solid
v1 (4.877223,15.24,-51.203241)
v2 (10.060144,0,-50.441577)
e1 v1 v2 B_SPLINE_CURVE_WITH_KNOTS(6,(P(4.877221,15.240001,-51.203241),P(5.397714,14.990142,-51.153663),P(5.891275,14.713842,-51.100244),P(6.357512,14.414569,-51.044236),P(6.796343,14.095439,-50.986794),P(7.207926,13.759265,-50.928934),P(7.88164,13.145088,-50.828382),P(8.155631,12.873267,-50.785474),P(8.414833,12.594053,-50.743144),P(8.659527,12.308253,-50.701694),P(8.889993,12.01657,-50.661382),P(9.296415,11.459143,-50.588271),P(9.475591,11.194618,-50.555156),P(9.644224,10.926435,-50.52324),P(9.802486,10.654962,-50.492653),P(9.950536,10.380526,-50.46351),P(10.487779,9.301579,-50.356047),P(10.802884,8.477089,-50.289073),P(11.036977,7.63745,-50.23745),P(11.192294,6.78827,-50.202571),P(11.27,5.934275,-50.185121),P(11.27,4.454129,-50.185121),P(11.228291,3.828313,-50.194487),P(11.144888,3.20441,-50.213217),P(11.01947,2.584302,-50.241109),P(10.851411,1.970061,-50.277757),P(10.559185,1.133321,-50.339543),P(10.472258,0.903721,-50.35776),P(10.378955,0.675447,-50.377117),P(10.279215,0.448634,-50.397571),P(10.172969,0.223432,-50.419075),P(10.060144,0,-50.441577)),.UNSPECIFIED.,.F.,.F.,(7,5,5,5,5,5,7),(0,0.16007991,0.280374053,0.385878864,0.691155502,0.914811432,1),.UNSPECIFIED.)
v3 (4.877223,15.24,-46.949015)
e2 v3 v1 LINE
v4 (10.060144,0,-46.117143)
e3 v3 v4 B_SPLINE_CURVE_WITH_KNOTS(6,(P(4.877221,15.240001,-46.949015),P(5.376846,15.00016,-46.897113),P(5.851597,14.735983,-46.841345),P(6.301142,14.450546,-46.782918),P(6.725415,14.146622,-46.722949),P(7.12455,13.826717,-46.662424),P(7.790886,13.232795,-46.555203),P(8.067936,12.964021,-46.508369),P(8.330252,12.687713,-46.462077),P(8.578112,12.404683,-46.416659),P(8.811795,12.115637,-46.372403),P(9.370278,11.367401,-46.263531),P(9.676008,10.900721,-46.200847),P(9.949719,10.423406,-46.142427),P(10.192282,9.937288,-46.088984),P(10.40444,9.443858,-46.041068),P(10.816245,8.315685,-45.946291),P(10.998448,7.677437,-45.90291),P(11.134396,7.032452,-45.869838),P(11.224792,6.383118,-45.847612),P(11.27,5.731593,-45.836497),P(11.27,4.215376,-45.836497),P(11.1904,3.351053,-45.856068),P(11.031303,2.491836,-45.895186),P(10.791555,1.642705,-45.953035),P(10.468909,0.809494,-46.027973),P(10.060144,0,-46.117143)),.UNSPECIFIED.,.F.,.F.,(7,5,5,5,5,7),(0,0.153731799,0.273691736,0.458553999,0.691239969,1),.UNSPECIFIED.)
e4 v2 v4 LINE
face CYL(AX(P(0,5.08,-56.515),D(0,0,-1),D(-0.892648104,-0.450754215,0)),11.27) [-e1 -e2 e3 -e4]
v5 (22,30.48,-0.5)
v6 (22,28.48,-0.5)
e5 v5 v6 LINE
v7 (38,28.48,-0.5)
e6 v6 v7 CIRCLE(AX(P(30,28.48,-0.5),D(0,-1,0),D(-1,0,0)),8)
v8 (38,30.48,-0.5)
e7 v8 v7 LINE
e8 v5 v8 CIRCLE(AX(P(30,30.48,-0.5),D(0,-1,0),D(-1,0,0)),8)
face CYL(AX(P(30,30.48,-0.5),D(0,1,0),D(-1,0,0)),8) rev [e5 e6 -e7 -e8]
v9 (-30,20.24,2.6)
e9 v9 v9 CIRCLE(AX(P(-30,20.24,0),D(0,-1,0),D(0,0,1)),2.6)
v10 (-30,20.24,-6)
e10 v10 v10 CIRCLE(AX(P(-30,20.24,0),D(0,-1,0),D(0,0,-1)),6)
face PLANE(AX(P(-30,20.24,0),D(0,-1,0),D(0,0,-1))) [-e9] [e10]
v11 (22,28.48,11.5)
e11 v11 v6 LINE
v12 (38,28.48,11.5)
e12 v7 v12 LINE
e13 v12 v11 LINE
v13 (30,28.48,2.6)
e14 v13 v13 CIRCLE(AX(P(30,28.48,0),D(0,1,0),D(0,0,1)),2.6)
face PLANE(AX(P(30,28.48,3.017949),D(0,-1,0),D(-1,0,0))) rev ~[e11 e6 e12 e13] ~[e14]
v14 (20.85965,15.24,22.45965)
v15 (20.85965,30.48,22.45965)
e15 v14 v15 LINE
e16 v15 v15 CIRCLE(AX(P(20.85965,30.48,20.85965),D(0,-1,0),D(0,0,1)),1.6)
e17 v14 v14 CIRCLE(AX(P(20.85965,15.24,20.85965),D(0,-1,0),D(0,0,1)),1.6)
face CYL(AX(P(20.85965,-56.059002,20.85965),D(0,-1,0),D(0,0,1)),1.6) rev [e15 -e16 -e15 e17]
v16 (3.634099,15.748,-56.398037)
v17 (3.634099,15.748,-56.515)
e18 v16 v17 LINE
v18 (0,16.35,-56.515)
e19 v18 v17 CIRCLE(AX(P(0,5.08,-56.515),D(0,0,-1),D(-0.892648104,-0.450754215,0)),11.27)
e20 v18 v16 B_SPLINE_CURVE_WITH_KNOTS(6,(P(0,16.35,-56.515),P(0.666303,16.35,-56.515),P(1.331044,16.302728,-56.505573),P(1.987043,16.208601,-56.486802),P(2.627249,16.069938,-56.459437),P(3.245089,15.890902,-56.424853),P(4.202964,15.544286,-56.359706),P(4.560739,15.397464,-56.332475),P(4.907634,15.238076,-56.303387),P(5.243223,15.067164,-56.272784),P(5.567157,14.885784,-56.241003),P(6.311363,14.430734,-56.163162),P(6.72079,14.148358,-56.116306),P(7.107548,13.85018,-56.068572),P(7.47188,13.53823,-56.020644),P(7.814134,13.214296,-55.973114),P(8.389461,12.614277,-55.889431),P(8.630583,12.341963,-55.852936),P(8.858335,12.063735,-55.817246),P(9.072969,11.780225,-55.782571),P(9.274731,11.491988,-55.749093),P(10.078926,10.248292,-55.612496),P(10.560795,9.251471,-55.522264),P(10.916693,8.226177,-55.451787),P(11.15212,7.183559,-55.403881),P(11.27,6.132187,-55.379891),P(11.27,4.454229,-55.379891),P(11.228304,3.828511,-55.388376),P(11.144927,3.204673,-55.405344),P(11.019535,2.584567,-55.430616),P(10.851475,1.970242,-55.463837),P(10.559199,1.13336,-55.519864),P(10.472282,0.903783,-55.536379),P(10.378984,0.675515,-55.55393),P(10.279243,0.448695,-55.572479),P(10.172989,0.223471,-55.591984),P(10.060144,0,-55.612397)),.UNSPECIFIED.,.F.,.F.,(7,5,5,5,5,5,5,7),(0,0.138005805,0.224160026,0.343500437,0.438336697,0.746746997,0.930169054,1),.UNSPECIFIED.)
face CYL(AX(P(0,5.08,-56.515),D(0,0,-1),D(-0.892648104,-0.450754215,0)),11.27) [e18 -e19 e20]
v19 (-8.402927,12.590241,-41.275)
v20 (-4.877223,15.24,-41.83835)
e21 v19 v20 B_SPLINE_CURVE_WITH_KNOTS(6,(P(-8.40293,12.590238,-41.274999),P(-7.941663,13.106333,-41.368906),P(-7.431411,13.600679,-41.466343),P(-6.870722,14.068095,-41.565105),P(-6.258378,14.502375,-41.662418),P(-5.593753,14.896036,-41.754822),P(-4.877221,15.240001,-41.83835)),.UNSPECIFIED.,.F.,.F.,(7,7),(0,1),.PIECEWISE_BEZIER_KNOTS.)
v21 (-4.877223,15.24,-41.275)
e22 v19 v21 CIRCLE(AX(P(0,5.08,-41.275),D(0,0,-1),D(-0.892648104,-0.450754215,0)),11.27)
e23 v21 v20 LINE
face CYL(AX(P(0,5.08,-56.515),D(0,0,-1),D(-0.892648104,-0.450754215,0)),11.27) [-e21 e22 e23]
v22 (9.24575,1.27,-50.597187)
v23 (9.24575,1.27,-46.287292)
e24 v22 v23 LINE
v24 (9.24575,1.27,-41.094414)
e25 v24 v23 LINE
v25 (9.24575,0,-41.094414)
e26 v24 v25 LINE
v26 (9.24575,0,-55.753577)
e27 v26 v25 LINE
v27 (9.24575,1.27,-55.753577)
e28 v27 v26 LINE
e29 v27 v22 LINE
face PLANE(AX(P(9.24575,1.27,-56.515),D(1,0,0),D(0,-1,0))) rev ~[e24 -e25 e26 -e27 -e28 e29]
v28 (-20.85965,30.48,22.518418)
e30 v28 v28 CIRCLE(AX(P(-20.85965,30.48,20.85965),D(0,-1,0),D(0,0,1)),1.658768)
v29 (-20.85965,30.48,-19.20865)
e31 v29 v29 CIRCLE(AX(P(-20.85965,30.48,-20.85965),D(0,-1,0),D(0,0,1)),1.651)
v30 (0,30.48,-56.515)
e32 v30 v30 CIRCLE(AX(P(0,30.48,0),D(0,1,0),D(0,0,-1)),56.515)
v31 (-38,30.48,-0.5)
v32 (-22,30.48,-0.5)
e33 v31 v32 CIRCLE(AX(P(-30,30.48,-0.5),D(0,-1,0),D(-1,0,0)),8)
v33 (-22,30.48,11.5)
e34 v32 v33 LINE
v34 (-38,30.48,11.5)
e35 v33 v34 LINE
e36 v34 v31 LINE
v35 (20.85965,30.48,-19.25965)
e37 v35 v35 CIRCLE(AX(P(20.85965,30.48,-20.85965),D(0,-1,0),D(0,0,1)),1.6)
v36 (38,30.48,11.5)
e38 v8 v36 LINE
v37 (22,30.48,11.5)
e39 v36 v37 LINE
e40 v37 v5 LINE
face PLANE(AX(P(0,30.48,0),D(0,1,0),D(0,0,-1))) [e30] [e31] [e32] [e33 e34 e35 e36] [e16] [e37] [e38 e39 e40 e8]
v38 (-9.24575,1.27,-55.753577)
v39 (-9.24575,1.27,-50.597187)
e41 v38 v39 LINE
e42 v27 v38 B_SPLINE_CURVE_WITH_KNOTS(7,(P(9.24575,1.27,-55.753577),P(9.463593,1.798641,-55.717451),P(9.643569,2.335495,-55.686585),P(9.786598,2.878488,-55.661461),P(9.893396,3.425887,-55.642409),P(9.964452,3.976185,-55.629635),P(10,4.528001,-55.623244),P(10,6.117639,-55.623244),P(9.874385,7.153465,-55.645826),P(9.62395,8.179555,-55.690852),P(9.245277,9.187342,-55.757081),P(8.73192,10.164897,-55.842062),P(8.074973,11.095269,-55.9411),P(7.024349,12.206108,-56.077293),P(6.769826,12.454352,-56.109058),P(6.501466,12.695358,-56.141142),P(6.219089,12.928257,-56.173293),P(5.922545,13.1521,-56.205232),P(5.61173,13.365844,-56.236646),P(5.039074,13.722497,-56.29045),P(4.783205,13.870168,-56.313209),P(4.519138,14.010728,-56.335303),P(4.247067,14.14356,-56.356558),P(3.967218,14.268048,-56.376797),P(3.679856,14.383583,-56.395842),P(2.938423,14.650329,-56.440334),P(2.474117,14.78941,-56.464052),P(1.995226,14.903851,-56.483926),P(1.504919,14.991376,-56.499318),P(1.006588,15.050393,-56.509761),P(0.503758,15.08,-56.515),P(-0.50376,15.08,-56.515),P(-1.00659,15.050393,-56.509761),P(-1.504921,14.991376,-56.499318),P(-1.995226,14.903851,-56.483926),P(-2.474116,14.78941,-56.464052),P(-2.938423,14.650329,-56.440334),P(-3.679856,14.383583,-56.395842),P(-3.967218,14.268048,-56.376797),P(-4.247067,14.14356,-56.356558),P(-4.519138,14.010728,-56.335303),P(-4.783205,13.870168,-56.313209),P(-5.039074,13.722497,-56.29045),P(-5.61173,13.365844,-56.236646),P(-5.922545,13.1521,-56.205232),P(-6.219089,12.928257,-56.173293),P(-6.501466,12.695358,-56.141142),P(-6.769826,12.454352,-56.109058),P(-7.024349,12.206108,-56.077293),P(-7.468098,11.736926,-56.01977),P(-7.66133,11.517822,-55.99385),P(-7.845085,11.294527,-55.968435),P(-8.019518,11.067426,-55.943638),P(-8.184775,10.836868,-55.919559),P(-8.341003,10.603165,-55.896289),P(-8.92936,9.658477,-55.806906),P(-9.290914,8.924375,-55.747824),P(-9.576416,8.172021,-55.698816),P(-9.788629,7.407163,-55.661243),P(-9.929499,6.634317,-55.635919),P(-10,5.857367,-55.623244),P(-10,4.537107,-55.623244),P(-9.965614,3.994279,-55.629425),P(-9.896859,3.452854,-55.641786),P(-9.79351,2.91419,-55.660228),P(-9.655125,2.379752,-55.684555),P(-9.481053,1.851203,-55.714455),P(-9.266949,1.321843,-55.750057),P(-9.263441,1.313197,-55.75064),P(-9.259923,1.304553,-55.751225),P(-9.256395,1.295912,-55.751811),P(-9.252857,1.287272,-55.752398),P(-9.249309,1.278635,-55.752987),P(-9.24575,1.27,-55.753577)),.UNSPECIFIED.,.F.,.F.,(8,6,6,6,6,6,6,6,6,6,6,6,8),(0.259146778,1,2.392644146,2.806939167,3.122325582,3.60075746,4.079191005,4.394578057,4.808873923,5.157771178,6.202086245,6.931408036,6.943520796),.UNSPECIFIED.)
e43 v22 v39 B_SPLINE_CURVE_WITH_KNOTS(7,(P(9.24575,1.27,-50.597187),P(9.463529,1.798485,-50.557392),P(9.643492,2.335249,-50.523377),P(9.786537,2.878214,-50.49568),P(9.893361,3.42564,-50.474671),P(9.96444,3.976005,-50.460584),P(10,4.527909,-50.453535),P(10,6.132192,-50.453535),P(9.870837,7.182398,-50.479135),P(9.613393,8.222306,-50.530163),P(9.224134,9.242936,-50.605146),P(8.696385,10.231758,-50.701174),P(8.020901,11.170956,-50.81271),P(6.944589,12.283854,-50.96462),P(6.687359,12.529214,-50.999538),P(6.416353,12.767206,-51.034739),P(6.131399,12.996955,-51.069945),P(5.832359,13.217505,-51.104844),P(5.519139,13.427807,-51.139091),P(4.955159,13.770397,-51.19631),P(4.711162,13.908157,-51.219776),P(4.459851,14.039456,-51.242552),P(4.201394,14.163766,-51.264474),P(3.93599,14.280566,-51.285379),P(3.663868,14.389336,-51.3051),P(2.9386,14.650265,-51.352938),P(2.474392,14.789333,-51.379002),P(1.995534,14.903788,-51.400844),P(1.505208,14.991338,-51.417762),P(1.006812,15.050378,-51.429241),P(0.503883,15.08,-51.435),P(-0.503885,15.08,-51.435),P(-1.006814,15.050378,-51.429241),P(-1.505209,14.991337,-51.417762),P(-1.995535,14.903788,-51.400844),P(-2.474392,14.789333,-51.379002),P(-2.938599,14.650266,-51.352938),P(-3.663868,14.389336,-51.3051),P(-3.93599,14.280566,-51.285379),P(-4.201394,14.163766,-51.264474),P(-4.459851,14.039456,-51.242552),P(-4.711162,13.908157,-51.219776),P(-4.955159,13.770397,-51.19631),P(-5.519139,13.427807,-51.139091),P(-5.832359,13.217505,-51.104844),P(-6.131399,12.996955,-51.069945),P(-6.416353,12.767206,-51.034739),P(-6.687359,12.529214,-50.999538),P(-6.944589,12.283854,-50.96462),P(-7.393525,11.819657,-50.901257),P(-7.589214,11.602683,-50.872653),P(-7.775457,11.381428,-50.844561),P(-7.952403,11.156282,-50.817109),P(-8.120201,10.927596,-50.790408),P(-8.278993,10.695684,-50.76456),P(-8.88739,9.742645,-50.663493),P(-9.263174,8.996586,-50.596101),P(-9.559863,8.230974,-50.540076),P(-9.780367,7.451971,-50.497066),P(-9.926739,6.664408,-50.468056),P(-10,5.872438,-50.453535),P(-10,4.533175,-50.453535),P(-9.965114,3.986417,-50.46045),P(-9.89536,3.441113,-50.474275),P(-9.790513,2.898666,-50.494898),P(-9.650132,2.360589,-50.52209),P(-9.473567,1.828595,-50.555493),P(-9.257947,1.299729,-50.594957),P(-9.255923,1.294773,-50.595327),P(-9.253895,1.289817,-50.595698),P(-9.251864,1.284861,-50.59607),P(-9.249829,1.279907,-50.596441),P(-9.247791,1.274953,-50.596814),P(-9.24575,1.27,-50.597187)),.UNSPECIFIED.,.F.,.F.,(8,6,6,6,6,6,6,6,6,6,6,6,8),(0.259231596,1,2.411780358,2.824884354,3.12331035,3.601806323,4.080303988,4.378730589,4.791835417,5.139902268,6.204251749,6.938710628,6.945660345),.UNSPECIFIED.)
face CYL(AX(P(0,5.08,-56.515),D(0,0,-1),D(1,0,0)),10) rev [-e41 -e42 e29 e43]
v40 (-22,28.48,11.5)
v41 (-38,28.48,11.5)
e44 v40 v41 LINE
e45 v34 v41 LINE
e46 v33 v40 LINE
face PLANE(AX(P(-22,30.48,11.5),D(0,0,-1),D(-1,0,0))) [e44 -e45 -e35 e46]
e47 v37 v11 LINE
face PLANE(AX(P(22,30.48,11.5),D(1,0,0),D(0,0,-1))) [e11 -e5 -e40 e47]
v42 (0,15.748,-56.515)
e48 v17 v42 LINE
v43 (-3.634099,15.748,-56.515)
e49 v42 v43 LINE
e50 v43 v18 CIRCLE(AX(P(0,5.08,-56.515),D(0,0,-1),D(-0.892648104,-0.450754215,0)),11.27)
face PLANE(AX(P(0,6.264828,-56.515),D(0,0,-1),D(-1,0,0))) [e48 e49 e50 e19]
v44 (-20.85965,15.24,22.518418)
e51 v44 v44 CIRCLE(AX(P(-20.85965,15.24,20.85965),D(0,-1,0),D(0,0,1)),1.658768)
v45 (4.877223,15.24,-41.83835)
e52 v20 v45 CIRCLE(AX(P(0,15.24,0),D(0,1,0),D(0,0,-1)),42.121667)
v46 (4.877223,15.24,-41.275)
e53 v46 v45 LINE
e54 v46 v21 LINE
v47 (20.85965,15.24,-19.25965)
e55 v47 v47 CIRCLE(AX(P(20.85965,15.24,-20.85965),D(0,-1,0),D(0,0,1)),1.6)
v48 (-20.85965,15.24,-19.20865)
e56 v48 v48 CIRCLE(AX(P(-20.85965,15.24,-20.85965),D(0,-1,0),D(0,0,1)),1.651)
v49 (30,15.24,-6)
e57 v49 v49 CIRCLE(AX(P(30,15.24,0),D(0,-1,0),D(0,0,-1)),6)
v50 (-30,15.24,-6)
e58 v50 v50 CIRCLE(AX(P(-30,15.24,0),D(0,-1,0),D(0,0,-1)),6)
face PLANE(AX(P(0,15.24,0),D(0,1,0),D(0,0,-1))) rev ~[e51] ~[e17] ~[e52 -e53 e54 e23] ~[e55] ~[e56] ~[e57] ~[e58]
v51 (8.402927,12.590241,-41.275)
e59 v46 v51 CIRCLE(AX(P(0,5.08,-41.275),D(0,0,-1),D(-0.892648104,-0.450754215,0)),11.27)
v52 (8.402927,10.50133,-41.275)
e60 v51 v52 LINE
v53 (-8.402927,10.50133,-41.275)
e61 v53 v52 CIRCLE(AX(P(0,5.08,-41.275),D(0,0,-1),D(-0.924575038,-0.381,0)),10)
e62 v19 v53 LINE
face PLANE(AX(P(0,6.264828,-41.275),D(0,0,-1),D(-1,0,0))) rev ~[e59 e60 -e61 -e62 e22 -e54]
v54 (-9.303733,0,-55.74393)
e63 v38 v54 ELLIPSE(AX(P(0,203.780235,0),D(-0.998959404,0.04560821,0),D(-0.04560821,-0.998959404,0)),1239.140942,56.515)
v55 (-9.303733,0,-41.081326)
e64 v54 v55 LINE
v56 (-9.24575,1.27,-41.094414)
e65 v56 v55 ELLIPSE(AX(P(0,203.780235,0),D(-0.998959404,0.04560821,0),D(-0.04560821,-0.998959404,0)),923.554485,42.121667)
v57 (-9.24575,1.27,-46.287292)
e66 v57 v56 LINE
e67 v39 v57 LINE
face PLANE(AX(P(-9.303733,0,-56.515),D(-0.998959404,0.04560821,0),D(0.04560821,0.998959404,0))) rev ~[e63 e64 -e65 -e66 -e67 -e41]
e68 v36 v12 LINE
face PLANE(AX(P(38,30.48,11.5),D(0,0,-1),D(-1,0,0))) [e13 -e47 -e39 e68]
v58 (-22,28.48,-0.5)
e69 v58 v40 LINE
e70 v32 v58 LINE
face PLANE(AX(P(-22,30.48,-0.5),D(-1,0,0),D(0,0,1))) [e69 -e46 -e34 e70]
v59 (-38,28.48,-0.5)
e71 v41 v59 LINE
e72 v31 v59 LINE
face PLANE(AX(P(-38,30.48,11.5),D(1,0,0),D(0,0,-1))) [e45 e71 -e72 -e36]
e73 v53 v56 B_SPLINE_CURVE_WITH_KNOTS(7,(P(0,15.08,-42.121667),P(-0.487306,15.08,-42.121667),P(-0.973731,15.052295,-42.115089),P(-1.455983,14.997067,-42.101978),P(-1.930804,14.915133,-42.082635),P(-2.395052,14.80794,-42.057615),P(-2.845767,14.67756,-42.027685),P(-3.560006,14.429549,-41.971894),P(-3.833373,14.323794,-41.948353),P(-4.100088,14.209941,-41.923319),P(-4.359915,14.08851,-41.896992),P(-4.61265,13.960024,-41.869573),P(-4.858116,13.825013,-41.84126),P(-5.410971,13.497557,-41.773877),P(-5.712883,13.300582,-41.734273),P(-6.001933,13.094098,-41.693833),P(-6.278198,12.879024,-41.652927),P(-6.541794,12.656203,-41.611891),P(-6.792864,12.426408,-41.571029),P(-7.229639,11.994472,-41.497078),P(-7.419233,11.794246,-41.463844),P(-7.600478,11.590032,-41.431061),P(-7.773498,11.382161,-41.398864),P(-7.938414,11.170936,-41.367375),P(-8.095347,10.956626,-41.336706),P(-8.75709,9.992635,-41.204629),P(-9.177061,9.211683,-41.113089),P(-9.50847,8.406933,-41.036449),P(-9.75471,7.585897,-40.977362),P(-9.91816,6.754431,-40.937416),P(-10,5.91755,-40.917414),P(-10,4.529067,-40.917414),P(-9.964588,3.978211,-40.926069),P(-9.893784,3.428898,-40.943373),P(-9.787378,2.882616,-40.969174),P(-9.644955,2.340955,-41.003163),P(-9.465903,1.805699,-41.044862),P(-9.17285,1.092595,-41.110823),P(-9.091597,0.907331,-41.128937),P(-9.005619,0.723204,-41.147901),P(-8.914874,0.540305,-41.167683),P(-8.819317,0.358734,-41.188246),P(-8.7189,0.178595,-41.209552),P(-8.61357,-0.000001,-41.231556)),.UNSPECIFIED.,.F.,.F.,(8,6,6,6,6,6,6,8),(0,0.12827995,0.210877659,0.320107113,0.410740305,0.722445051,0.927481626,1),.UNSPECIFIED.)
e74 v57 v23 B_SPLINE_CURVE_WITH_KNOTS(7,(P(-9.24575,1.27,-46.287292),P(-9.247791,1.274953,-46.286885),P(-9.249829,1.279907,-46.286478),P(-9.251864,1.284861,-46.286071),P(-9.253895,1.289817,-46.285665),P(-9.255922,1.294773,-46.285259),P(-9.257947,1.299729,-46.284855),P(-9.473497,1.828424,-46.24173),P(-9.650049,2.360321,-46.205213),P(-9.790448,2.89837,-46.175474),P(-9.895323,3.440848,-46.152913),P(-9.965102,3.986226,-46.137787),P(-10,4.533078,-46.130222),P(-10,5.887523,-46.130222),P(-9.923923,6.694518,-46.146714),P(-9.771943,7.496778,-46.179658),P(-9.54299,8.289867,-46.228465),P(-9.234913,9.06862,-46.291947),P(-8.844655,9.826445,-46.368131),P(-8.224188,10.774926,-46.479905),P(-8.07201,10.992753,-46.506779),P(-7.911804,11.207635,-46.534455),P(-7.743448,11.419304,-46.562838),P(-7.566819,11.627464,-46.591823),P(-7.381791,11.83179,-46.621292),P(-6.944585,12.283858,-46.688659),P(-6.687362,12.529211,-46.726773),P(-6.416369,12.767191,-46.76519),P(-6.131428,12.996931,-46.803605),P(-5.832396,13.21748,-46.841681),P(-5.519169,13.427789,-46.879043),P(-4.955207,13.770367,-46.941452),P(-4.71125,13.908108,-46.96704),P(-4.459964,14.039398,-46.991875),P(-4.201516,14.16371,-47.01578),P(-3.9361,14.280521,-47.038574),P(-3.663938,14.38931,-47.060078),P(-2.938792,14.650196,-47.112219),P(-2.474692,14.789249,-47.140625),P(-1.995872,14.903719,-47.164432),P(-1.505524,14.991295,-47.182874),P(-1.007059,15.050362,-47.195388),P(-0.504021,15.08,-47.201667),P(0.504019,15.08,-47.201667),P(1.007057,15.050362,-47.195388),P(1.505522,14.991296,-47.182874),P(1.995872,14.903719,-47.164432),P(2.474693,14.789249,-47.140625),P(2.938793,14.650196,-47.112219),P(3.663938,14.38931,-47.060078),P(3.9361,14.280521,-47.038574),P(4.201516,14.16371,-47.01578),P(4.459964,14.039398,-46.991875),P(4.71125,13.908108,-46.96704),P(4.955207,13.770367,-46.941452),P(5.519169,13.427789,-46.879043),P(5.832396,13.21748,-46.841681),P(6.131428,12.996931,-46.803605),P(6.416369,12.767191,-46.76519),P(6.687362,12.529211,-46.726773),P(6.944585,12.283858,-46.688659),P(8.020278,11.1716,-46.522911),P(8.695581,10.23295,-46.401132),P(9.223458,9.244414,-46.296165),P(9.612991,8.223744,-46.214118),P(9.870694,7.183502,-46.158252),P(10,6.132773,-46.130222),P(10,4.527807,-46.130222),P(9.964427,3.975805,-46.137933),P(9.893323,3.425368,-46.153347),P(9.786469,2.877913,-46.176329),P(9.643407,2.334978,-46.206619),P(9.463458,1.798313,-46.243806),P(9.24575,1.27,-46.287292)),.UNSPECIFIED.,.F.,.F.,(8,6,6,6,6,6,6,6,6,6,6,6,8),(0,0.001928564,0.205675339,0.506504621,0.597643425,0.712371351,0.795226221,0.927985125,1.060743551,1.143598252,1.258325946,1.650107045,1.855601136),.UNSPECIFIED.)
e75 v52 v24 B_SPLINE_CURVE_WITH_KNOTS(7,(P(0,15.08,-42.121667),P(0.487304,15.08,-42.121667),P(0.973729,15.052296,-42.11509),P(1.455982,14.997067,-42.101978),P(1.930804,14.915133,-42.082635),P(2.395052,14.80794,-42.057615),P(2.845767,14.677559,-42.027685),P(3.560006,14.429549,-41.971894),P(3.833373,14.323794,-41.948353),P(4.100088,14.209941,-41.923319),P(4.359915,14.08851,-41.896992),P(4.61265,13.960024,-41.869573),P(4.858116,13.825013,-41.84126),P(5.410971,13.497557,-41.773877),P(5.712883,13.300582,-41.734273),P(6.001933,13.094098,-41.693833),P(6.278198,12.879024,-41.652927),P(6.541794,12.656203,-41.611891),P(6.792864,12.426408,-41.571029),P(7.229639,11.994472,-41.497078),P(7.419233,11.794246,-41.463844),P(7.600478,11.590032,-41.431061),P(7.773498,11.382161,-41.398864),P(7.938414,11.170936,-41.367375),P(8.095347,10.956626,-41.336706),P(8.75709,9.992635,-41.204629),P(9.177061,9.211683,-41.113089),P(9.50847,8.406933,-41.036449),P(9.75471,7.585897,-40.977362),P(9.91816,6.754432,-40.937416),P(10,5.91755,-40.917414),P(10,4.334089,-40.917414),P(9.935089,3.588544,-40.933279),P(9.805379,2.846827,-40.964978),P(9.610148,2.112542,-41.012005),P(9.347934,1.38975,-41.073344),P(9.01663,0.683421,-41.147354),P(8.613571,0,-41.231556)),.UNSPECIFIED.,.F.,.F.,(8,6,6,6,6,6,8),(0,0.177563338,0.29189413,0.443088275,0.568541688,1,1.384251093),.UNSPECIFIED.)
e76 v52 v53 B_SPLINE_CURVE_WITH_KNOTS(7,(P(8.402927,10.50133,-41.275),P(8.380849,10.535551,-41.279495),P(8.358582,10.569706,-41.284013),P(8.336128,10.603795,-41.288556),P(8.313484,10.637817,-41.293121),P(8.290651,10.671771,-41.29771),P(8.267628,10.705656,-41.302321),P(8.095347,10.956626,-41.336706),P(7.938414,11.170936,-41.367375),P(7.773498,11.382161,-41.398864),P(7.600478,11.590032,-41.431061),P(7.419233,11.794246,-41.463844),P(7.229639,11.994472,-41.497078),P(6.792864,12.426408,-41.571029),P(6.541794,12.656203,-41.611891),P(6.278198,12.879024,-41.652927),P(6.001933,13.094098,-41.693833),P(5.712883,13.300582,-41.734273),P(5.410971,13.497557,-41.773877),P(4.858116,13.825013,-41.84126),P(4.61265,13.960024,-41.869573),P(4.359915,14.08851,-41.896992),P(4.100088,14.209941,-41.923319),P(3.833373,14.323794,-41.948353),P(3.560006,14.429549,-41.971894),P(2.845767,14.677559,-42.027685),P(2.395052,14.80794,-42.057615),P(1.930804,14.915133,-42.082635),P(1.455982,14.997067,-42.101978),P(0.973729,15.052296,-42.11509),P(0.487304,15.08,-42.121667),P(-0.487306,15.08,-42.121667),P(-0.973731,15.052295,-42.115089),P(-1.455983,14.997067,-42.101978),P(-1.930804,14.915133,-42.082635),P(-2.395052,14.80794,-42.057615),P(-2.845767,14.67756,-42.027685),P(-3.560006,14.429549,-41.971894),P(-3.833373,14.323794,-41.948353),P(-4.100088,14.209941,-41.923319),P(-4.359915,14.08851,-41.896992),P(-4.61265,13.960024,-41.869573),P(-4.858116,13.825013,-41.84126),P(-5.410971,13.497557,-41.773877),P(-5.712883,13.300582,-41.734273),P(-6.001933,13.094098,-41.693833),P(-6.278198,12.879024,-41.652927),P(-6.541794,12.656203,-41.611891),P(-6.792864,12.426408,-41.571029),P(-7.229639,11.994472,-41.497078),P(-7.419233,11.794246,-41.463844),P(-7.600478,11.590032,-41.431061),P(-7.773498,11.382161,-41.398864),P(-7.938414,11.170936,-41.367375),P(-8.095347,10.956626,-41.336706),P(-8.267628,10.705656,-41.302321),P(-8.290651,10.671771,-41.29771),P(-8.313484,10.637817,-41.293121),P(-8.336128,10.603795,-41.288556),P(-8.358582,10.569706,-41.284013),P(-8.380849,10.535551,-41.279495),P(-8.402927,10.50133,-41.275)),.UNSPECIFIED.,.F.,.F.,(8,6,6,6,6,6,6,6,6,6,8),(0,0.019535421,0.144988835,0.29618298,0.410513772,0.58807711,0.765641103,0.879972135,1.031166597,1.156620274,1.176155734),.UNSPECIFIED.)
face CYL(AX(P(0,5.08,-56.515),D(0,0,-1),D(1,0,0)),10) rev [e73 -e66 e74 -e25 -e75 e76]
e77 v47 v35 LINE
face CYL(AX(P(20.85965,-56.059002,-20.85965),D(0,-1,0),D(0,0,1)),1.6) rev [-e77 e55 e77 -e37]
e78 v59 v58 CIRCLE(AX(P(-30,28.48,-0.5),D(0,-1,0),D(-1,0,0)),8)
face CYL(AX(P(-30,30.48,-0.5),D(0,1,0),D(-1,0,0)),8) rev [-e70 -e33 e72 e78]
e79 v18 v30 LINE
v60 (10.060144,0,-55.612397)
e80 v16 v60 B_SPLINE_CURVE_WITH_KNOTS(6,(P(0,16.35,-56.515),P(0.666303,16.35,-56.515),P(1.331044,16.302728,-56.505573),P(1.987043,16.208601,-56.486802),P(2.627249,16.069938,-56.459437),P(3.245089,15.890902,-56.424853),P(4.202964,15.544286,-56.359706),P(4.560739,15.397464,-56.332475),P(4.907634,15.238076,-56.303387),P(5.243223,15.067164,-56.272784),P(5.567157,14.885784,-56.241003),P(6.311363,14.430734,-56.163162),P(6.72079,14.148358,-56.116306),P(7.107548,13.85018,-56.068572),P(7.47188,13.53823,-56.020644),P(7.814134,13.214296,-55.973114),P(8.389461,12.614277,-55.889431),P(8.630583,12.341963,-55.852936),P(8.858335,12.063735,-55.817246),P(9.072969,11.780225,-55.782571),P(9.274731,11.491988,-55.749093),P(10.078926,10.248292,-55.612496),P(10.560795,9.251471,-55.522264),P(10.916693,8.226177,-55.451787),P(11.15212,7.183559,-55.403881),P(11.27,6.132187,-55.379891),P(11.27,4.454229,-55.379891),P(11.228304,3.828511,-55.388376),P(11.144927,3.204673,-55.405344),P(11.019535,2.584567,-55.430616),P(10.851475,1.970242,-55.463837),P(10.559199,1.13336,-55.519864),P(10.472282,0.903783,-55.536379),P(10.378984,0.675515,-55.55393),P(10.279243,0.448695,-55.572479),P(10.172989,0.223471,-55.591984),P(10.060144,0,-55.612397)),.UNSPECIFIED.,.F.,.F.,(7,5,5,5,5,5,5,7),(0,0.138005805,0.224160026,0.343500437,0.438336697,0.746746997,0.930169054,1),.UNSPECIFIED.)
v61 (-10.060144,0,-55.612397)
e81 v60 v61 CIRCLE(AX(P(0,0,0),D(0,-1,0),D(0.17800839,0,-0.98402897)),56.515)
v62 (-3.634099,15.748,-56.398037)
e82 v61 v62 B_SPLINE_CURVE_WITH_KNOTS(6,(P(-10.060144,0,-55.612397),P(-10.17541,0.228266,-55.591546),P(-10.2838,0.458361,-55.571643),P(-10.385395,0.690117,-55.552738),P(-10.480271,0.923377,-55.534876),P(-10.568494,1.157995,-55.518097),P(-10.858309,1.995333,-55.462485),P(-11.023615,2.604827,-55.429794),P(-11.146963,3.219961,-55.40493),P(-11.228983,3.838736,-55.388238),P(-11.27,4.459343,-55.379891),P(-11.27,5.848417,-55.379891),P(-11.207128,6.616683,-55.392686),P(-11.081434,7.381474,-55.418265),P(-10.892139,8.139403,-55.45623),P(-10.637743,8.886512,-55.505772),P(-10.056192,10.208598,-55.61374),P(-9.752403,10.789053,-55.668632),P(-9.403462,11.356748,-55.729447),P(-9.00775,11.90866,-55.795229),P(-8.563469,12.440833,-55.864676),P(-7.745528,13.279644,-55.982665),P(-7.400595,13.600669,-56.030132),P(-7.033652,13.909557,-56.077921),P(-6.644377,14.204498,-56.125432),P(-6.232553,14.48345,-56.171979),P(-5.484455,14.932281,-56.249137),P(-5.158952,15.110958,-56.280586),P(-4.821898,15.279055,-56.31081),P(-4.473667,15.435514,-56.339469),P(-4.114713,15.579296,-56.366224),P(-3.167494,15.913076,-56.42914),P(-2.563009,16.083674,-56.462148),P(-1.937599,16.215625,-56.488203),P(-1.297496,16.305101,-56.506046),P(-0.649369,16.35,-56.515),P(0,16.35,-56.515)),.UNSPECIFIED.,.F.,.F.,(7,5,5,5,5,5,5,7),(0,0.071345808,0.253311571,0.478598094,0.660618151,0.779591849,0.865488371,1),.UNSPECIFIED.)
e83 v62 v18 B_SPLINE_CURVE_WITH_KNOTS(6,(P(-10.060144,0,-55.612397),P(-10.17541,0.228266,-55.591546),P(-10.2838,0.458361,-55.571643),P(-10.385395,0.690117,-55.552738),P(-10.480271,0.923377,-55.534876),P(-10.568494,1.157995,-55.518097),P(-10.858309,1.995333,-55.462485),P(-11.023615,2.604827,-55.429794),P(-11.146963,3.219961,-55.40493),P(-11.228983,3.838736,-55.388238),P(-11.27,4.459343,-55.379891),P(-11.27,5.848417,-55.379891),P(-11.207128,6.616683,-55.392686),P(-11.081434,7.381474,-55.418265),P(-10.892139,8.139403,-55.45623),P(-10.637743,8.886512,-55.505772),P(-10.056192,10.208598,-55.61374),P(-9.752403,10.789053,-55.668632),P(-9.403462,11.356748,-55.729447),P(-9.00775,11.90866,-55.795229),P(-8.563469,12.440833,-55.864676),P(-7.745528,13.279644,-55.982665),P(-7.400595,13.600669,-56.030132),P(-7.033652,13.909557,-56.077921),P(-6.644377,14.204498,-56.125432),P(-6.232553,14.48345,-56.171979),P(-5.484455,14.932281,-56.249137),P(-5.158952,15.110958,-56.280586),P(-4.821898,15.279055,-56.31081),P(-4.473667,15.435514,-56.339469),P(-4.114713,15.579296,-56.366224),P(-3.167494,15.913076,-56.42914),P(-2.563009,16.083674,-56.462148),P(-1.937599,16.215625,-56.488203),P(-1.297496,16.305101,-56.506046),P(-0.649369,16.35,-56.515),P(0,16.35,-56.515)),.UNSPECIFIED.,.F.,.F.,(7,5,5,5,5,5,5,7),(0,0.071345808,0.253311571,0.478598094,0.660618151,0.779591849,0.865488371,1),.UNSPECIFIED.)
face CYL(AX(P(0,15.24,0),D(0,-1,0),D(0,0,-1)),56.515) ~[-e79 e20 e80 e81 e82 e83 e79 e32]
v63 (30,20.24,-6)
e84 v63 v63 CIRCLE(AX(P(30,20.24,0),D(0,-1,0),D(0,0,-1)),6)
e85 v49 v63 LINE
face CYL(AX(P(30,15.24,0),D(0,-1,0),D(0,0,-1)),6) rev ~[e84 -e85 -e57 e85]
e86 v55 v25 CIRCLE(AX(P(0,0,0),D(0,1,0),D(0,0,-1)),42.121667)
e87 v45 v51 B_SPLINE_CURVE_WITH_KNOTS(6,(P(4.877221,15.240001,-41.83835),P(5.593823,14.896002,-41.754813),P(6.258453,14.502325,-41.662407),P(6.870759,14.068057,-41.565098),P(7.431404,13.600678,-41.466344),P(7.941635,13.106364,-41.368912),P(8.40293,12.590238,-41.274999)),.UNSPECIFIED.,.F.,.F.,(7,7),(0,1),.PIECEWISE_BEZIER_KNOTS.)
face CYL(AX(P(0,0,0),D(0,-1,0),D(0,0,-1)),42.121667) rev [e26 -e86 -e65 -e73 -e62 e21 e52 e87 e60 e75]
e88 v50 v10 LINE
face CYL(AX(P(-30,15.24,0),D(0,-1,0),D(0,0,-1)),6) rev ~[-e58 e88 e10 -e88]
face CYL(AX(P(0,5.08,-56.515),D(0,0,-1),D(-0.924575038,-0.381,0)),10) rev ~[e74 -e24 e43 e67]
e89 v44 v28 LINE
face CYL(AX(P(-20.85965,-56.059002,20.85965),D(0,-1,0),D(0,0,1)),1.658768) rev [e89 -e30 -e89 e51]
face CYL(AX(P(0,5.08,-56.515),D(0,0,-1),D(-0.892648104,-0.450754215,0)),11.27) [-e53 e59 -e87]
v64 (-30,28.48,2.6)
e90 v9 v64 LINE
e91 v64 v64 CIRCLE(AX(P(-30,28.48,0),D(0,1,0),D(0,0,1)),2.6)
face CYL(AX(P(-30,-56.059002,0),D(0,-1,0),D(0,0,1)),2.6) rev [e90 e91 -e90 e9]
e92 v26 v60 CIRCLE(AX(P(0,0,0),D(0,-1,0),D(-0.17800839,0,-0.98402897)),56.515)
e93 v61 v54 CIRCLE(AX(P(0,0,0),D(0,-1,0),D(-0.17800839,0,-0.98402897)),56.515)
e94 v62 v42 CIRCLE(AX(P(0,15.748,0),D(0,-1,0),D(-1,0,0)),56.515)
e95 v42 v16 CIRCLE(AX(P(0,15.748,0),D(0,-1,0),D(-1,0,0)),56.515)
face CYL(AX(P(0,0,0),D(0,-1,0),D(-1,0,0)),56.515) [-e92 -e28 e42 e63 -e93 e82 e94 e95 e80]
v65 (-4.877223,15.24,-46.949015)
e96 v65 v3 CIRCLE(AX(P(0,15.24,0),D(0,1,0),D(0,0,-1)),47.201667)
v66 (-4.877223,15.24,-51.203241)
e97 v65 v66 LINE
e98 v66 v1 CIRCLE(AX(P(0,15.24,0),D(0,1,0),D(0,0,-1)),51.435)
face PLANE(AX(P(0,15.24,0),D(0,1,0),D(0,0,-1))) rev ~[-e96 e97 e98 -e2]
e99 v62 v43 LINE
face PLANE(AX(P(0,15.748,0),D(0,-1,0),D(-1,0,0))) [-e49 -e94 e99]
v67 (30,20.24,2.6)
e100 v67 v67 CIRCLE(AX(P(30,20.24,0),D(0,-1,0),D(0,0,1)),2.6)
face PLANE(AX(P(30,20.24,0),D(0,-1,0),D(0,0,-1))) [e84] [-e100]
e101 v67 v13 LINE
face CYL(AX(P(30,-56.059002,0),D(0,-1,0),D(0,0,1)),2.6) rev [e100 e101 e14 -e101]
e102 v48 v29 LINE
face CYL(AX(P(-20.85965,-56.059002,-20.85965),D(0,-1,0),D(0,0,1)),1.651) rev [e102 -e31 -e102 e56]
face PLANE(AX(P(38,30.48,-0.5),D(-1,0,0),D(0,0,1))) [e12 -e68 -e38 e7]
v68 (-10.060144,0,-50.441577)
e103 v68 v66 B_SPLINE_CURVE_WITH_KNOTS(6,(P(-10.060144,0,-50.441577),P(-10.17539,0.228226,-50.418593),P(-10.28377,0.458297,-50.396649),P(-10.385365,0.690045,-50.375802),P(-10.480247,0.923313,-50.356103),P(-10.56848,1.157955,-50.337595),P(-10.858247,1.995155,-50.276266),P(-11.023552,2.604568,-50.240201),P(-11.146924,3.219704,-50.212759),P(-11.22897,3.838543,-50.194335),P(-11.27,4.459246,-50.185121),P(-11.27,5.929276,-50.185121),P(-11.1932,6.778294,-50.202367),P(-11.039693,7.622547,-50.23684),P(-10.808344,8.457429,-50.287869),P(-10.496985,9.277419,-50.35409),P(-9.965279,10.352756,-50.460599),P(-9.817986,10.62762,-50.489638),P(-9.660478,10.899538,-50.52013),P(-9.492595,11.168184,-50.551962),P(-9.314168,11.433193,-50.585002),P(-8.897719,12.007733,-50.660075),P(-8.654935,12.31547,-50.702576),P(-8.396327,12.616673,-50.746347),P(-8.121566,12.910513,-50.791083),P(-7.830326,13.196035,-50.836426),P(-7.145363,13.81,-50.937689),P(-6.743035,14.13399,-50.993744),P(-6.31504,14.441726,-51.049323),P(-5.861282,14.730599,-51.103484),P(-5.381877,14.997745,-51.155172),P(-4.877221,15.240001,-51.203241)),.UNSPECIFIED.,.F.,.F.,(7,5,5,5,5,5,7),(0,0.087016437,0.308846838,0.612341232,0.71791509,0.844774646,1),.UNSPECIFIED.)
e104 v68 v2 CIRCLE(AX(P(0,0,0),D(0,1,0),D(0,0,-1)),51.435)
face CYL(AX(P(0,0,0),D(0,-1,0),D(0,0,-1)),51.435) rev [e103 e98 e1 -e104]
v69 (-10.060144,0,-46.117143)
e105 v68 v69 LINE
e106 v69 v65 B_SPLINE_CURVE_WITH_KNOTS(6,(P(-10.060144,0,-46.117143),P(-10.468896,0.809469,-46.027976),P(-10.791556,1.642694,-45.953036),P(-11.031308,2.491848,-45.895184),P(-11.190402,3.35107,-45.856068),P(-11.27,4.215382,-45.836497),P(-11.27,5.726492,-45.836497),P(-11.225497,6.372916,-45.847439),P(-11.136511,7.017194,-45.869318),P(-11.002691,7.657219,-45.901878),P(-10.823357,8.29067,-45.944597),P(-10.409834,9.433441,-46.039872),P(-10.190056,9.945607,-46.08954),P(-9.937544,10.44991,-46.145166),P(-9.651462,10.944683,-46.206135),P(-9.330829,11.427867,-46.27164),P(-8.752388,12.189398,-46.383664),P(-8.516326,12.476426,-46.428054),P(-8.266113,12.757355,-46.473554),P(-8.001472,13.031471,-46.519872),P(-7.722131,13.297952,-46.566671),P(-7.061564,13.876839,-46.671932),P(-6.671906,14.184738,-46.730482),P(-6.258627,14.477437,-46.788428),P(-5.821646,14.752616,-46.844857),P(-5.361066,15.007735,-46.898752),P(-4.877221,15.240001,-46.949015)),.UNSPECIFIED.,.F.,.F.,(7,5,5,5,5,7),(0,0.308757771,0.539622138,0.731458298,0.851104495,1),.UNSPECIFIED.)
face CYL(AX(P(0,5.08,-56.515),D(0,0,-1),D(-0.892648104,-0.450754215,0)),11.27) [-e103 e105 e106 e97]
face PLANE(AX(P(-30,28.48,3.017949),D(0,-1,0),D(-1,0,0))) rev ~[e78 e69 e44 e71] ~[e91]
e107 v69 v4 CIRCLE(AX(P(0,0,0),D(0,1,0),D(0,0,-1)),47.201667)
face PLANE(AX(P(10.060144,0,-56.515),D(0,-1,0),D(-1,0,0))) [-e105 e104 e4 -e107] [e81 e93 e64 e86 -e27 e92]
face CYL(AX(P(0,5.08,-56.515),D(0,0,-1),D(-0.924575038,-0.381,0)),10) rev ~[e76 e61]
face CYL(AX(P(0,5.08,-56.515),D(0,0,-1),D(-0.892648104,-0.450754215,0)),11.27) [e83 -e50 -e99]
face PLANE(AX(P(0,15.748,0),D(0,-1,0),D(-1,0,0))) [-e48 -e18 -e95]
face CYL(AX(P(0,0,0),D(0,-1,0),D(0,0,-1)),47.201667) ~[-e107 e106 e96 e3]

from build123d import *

# Parameters (mm, degrees)
SKETCH2_R                = 56.515
SKETCH2_R_2              = 51.435
BOSS_EXTRUDE1_DEPTH      = 15.24
SKETCH2_R_3              = 47.201666667
SKETCH2_R_4              = 42.121666667
BOSS_EXTRUDE1_2_DEPTH    = 15.24
SKETCH3_R                = 56.515
BOSS_EXTRUDE2_DEPTH      = 15.24
CUT_EXTRUDE1_DEPTH       = 86.539001923
CUT_EXTRUDE1_DEPTH_BACK  = 86.539001923
SKETCH4_R                = 1.6
SKETCH4_R_2              = 1.65876763
SKETCH4_R_3              = 1.651
SKETCH14_R               = 10
CUT_EXTRUDE7_DEPTH       = 19.558
SKETCH16_W               = 1.27
SKETCH16_H               = 1.27
EXTRUDE_THIN1_DEPTH      = 15.24
SKETCH20_R               = 66.675
SKETCH20_R_2             = 56.515
CUT_EXTRUDE_THIN3_DEPTH  = 15.748
CUT_EXTRUDE12_DEPTH      = 15.748
SKETCH32_R               = 2.6
CUT_EXTRUDE18_DEPTH      = 2
CUT_EXTRUDE19_DEPTH      = 86.539002091
CUT_EXTRUDE19_DEPTH_BACK = 86.539002091
SKETCH33_R               = 2.6
SKETCH34_R               = 6
CUT_EXTRUDE20_DEPTH      = 5


with BuildPart() as part:
    # Sketch2 → Boss-Extrude1 (new body)
    with BuildSketch(Plane(origin=(0, 0, 0), x_dir=(1, 0, 0), z_dir=(0, 1, 0))):
        with Locations(Location((0, 0, 0), (0, 0, 90))):
            Circle(SKETCH2_R)
        with Locations(Location((0, 0, 0), (0, 0, 90))):
            Circle(SKETCH2_R_2, mode=Mode.SUBTRACT)
    extrude(amount=BOSS_EXTRUDE1_DEPTH)



with BuildPart() as body_2:
    # Sketch2 → Boss-Extrude1 2 (new body)
    with BuildSketch(Plane(origin=(0, 0, 0), x_dir=(1, 0, 0), z_dir=(0, 1, 0))):
        with Locations(Location((0, 0, 0), (0, 0, 90))):
            Circle(SKETCH2_R_3)
        with Locations(Location((0, 0, 0), (0, 0, 90))):
            Circle(SKETCH2_R_4, mode=Mode.SUBTRACT)
    extrude(amount=BOSS_EXTRUDE1_2_DEPTH)


with BuildPart() as part_1:
    add(part.part)

    add(body_2.part)  # Boss-Extrude2 merges body 2
    # Sketch3 → Boss-Extrude2 (add)
    with BuildSketch(Plane(origin=(0, 15.24, 0), x_dir=(1, 0, 0), z_dir=(0, 1, 0))):
        with Locations(Location((0, 0, 0), (0, 0, 90))):
            Circle(SKETCH3_R)
    extrude(amount=BOSS_EXTRUDE2_DEPTH)

    # Sketch4 → Cut-Extrude1 (cut, two sides: drawn at the far end of the back side and taken through both)
    with BuildSketch(Plane(origin=(0, 30.48, 0), x_dir=(1, 0, 0), z_dir=(0, 1, 0)).offset(-CUT_EXTRUDE1_DEPTH_BACK)):
        with Locations(Location((20.859650045, 20.859650045, 0), (0, 0, 270))):
            Circle(SKETCH4_R)
        with Locations(Location((20.859650045, -20.859650045, 0), (0, 0, 270))):
            Circle(SKETCH4_R)
        with Locations(Location((-20.859650045, -20.859650045, 0), (0, 0, 270))):
            Circle(SKETCH4_R_2)
        with Locations(Location((-20.859650045, 20.859650045, 0), (0, 0, 270))):
            Circle(SKETCH4_R_3)
    extrude(amount=CUT_EXTRUDE1_DEPTH + CUT_EXTRUDE1_DEPTH_BACK, mode=Mode.SUBTRACT)

    # Sketch14 → Cut-Extrude7 (cut)
    with BuildSketch(Plane.XY.offset(-56.515)):
        with Locations((0, 5.08)):
            Circle(SKETCH14_R)
    extrude(amount=CUT_EXTRUDE7_DEPTH, mode=Mode.SUBTRACT)

    # Sketch16 → Extrude-Thin1 (add)
    # profile 1 of 2: a face of its own
    with BuildSketch(Plane.XY.offset(-56.515)):
        with Locations((-0.635, 0.635)):
            Rectangle(SKETCH16_W, SKETCH16_H)
    # profile 2 of 2: a face of its own
    with BuildSketch(Plane.XY.offset(-56.515)):
        with BuildLine():
            Line((10.060144134, 0), (-10.060144134, 0))
            ThreePointArc((-10.060144134, 0), (0, 16.35), (10.060144134, 0))
        make_face()
        with BuildLine():
            Line((9.245750375, 1.27), (-9.245750375, 1.27))
            ThreePointArc((-9.245750375, 1.27), (0, 15.08), (9.245750375, 1.27))
        make_face(mode=Mode.SUBTRACT)
    extrude(amount=EXTRUDE_THIN1_DEPTH)

    # Sketch20 → Cut-Extrude-Thin3 (cut)
    with BuildSketch(Plane(origin=(0, 0, 0), x_dir=(-1, 0, 0), z_dir=(0, -1, 0))):
        Circle(SKETCH20_R)
        Circle(SKETCH20_R_2, mode=Mode.SUBTRACT)
    extrude(amount=-CUT_EXTRUDE_THIN3_DEPTH, mode=Mode.SUBTRACT)

    # Sketch21 → Cut-Extrude12 (cut)
    with BuildSketch(Plane.XY.offset(-56.515)):
        Polygon((-9.303733138, 0), (-9.245750375, 1.27), (9.245750375, 1.27), (9.245750375, 0), align=None)
    extrude(amount=CUT_EXTRUDE12_DEPTH, mode=Mode.SUBTRACT)

    # Sketch32 → Cut-Extrude18 (cut)
    # profile 1 of 2: a face of its own
    with BuildSketch(Plane(origin=(0, 30.48, 0), x_dir=(1, 0, 0), z_dir=(0, 1, 0))):
        with BuildLine():
            Line((-22, 0.5), (-22, -11.5))
            Line((-22, -11.5), (-38, -11.5))
            Line((-38, -11.5), (-38, 0.5))
            ThreePointArc((-38, 0.5), (-30, 8.5), (-22, 0.5))
        make_face()
        with Locations(Location((-30, 0, 0), (0, 0, 270))):
            Circle(SKETCH32_R, mode=Mode.SUBTRACT)
    # profile 2 of 2: a face of its own
    with BuildSketch(Plane(origin=(0, 30.48, 0), x_dir=(1, 0, 0), z_dir=(0, 1, 0))):
        with BuildLine():
            Line((38, 0.5), (38, -11.5))
            Line((38, -11.5), (22, -11.5))
            Line((22, -11.5), (22, 0.5))
            ThreePointArc((22, 0.5), (30, 8.5), (38, 0.5))
        make_face()
        with Locations(Location((30, 0, 0), (0, 0, 90))):
            Circle(SKETCH32_R, mode=Mode.SUBTRACT)
    extrude(amount=-CUT_EXTRUDE18_DEPTH, mode=Mode.SUBTRACT)

    # Sketch33 → Cut-Extrude19 (cut, two sides: drawn at the far end of the back side and taken through both)
    with BuildSketch(Plane(origin=(0, 30.48, 0), x_dir=(1, 0, 0), z_dir=(0, 1, 0)).offset(-CUT_EXTRUDE19_DEPTH_BACK)):
        with Locations(Location((-30, 0, 0), (0, 0, 270))):
            Circle(SKETCH33_R)
        with Locations(Location((30, 0, 0), (0, 0, 270))):
            Circle(SKETCH33_R)
    extrude(amount=CUT_EXTRUDE19_DEPTH + CUT_EXTRUDE19_DEPTH_BACK, mode=Mode.SUBTRACT)

    # Sketch34 → Cut-Extrude20 (cut)
    with BuildSketch(Plane(origin=(0, 15.24, 0), x_dir=(-1, 0, 0), z_dir=(0, -1, 0))):
        with Locations(Location((30, 0, 0), (0, 0, 90))):
            Circle(SKETCH34_R)
        with Locations(Location((-30, 0, 0), (0, 0, 90))):
            Circle(SKETCH34_R)
    extrude(amount=-CUT_EXTRUDE20_DEPTH, mode=Mode.SUBTRACT)


solid = part_1.part
